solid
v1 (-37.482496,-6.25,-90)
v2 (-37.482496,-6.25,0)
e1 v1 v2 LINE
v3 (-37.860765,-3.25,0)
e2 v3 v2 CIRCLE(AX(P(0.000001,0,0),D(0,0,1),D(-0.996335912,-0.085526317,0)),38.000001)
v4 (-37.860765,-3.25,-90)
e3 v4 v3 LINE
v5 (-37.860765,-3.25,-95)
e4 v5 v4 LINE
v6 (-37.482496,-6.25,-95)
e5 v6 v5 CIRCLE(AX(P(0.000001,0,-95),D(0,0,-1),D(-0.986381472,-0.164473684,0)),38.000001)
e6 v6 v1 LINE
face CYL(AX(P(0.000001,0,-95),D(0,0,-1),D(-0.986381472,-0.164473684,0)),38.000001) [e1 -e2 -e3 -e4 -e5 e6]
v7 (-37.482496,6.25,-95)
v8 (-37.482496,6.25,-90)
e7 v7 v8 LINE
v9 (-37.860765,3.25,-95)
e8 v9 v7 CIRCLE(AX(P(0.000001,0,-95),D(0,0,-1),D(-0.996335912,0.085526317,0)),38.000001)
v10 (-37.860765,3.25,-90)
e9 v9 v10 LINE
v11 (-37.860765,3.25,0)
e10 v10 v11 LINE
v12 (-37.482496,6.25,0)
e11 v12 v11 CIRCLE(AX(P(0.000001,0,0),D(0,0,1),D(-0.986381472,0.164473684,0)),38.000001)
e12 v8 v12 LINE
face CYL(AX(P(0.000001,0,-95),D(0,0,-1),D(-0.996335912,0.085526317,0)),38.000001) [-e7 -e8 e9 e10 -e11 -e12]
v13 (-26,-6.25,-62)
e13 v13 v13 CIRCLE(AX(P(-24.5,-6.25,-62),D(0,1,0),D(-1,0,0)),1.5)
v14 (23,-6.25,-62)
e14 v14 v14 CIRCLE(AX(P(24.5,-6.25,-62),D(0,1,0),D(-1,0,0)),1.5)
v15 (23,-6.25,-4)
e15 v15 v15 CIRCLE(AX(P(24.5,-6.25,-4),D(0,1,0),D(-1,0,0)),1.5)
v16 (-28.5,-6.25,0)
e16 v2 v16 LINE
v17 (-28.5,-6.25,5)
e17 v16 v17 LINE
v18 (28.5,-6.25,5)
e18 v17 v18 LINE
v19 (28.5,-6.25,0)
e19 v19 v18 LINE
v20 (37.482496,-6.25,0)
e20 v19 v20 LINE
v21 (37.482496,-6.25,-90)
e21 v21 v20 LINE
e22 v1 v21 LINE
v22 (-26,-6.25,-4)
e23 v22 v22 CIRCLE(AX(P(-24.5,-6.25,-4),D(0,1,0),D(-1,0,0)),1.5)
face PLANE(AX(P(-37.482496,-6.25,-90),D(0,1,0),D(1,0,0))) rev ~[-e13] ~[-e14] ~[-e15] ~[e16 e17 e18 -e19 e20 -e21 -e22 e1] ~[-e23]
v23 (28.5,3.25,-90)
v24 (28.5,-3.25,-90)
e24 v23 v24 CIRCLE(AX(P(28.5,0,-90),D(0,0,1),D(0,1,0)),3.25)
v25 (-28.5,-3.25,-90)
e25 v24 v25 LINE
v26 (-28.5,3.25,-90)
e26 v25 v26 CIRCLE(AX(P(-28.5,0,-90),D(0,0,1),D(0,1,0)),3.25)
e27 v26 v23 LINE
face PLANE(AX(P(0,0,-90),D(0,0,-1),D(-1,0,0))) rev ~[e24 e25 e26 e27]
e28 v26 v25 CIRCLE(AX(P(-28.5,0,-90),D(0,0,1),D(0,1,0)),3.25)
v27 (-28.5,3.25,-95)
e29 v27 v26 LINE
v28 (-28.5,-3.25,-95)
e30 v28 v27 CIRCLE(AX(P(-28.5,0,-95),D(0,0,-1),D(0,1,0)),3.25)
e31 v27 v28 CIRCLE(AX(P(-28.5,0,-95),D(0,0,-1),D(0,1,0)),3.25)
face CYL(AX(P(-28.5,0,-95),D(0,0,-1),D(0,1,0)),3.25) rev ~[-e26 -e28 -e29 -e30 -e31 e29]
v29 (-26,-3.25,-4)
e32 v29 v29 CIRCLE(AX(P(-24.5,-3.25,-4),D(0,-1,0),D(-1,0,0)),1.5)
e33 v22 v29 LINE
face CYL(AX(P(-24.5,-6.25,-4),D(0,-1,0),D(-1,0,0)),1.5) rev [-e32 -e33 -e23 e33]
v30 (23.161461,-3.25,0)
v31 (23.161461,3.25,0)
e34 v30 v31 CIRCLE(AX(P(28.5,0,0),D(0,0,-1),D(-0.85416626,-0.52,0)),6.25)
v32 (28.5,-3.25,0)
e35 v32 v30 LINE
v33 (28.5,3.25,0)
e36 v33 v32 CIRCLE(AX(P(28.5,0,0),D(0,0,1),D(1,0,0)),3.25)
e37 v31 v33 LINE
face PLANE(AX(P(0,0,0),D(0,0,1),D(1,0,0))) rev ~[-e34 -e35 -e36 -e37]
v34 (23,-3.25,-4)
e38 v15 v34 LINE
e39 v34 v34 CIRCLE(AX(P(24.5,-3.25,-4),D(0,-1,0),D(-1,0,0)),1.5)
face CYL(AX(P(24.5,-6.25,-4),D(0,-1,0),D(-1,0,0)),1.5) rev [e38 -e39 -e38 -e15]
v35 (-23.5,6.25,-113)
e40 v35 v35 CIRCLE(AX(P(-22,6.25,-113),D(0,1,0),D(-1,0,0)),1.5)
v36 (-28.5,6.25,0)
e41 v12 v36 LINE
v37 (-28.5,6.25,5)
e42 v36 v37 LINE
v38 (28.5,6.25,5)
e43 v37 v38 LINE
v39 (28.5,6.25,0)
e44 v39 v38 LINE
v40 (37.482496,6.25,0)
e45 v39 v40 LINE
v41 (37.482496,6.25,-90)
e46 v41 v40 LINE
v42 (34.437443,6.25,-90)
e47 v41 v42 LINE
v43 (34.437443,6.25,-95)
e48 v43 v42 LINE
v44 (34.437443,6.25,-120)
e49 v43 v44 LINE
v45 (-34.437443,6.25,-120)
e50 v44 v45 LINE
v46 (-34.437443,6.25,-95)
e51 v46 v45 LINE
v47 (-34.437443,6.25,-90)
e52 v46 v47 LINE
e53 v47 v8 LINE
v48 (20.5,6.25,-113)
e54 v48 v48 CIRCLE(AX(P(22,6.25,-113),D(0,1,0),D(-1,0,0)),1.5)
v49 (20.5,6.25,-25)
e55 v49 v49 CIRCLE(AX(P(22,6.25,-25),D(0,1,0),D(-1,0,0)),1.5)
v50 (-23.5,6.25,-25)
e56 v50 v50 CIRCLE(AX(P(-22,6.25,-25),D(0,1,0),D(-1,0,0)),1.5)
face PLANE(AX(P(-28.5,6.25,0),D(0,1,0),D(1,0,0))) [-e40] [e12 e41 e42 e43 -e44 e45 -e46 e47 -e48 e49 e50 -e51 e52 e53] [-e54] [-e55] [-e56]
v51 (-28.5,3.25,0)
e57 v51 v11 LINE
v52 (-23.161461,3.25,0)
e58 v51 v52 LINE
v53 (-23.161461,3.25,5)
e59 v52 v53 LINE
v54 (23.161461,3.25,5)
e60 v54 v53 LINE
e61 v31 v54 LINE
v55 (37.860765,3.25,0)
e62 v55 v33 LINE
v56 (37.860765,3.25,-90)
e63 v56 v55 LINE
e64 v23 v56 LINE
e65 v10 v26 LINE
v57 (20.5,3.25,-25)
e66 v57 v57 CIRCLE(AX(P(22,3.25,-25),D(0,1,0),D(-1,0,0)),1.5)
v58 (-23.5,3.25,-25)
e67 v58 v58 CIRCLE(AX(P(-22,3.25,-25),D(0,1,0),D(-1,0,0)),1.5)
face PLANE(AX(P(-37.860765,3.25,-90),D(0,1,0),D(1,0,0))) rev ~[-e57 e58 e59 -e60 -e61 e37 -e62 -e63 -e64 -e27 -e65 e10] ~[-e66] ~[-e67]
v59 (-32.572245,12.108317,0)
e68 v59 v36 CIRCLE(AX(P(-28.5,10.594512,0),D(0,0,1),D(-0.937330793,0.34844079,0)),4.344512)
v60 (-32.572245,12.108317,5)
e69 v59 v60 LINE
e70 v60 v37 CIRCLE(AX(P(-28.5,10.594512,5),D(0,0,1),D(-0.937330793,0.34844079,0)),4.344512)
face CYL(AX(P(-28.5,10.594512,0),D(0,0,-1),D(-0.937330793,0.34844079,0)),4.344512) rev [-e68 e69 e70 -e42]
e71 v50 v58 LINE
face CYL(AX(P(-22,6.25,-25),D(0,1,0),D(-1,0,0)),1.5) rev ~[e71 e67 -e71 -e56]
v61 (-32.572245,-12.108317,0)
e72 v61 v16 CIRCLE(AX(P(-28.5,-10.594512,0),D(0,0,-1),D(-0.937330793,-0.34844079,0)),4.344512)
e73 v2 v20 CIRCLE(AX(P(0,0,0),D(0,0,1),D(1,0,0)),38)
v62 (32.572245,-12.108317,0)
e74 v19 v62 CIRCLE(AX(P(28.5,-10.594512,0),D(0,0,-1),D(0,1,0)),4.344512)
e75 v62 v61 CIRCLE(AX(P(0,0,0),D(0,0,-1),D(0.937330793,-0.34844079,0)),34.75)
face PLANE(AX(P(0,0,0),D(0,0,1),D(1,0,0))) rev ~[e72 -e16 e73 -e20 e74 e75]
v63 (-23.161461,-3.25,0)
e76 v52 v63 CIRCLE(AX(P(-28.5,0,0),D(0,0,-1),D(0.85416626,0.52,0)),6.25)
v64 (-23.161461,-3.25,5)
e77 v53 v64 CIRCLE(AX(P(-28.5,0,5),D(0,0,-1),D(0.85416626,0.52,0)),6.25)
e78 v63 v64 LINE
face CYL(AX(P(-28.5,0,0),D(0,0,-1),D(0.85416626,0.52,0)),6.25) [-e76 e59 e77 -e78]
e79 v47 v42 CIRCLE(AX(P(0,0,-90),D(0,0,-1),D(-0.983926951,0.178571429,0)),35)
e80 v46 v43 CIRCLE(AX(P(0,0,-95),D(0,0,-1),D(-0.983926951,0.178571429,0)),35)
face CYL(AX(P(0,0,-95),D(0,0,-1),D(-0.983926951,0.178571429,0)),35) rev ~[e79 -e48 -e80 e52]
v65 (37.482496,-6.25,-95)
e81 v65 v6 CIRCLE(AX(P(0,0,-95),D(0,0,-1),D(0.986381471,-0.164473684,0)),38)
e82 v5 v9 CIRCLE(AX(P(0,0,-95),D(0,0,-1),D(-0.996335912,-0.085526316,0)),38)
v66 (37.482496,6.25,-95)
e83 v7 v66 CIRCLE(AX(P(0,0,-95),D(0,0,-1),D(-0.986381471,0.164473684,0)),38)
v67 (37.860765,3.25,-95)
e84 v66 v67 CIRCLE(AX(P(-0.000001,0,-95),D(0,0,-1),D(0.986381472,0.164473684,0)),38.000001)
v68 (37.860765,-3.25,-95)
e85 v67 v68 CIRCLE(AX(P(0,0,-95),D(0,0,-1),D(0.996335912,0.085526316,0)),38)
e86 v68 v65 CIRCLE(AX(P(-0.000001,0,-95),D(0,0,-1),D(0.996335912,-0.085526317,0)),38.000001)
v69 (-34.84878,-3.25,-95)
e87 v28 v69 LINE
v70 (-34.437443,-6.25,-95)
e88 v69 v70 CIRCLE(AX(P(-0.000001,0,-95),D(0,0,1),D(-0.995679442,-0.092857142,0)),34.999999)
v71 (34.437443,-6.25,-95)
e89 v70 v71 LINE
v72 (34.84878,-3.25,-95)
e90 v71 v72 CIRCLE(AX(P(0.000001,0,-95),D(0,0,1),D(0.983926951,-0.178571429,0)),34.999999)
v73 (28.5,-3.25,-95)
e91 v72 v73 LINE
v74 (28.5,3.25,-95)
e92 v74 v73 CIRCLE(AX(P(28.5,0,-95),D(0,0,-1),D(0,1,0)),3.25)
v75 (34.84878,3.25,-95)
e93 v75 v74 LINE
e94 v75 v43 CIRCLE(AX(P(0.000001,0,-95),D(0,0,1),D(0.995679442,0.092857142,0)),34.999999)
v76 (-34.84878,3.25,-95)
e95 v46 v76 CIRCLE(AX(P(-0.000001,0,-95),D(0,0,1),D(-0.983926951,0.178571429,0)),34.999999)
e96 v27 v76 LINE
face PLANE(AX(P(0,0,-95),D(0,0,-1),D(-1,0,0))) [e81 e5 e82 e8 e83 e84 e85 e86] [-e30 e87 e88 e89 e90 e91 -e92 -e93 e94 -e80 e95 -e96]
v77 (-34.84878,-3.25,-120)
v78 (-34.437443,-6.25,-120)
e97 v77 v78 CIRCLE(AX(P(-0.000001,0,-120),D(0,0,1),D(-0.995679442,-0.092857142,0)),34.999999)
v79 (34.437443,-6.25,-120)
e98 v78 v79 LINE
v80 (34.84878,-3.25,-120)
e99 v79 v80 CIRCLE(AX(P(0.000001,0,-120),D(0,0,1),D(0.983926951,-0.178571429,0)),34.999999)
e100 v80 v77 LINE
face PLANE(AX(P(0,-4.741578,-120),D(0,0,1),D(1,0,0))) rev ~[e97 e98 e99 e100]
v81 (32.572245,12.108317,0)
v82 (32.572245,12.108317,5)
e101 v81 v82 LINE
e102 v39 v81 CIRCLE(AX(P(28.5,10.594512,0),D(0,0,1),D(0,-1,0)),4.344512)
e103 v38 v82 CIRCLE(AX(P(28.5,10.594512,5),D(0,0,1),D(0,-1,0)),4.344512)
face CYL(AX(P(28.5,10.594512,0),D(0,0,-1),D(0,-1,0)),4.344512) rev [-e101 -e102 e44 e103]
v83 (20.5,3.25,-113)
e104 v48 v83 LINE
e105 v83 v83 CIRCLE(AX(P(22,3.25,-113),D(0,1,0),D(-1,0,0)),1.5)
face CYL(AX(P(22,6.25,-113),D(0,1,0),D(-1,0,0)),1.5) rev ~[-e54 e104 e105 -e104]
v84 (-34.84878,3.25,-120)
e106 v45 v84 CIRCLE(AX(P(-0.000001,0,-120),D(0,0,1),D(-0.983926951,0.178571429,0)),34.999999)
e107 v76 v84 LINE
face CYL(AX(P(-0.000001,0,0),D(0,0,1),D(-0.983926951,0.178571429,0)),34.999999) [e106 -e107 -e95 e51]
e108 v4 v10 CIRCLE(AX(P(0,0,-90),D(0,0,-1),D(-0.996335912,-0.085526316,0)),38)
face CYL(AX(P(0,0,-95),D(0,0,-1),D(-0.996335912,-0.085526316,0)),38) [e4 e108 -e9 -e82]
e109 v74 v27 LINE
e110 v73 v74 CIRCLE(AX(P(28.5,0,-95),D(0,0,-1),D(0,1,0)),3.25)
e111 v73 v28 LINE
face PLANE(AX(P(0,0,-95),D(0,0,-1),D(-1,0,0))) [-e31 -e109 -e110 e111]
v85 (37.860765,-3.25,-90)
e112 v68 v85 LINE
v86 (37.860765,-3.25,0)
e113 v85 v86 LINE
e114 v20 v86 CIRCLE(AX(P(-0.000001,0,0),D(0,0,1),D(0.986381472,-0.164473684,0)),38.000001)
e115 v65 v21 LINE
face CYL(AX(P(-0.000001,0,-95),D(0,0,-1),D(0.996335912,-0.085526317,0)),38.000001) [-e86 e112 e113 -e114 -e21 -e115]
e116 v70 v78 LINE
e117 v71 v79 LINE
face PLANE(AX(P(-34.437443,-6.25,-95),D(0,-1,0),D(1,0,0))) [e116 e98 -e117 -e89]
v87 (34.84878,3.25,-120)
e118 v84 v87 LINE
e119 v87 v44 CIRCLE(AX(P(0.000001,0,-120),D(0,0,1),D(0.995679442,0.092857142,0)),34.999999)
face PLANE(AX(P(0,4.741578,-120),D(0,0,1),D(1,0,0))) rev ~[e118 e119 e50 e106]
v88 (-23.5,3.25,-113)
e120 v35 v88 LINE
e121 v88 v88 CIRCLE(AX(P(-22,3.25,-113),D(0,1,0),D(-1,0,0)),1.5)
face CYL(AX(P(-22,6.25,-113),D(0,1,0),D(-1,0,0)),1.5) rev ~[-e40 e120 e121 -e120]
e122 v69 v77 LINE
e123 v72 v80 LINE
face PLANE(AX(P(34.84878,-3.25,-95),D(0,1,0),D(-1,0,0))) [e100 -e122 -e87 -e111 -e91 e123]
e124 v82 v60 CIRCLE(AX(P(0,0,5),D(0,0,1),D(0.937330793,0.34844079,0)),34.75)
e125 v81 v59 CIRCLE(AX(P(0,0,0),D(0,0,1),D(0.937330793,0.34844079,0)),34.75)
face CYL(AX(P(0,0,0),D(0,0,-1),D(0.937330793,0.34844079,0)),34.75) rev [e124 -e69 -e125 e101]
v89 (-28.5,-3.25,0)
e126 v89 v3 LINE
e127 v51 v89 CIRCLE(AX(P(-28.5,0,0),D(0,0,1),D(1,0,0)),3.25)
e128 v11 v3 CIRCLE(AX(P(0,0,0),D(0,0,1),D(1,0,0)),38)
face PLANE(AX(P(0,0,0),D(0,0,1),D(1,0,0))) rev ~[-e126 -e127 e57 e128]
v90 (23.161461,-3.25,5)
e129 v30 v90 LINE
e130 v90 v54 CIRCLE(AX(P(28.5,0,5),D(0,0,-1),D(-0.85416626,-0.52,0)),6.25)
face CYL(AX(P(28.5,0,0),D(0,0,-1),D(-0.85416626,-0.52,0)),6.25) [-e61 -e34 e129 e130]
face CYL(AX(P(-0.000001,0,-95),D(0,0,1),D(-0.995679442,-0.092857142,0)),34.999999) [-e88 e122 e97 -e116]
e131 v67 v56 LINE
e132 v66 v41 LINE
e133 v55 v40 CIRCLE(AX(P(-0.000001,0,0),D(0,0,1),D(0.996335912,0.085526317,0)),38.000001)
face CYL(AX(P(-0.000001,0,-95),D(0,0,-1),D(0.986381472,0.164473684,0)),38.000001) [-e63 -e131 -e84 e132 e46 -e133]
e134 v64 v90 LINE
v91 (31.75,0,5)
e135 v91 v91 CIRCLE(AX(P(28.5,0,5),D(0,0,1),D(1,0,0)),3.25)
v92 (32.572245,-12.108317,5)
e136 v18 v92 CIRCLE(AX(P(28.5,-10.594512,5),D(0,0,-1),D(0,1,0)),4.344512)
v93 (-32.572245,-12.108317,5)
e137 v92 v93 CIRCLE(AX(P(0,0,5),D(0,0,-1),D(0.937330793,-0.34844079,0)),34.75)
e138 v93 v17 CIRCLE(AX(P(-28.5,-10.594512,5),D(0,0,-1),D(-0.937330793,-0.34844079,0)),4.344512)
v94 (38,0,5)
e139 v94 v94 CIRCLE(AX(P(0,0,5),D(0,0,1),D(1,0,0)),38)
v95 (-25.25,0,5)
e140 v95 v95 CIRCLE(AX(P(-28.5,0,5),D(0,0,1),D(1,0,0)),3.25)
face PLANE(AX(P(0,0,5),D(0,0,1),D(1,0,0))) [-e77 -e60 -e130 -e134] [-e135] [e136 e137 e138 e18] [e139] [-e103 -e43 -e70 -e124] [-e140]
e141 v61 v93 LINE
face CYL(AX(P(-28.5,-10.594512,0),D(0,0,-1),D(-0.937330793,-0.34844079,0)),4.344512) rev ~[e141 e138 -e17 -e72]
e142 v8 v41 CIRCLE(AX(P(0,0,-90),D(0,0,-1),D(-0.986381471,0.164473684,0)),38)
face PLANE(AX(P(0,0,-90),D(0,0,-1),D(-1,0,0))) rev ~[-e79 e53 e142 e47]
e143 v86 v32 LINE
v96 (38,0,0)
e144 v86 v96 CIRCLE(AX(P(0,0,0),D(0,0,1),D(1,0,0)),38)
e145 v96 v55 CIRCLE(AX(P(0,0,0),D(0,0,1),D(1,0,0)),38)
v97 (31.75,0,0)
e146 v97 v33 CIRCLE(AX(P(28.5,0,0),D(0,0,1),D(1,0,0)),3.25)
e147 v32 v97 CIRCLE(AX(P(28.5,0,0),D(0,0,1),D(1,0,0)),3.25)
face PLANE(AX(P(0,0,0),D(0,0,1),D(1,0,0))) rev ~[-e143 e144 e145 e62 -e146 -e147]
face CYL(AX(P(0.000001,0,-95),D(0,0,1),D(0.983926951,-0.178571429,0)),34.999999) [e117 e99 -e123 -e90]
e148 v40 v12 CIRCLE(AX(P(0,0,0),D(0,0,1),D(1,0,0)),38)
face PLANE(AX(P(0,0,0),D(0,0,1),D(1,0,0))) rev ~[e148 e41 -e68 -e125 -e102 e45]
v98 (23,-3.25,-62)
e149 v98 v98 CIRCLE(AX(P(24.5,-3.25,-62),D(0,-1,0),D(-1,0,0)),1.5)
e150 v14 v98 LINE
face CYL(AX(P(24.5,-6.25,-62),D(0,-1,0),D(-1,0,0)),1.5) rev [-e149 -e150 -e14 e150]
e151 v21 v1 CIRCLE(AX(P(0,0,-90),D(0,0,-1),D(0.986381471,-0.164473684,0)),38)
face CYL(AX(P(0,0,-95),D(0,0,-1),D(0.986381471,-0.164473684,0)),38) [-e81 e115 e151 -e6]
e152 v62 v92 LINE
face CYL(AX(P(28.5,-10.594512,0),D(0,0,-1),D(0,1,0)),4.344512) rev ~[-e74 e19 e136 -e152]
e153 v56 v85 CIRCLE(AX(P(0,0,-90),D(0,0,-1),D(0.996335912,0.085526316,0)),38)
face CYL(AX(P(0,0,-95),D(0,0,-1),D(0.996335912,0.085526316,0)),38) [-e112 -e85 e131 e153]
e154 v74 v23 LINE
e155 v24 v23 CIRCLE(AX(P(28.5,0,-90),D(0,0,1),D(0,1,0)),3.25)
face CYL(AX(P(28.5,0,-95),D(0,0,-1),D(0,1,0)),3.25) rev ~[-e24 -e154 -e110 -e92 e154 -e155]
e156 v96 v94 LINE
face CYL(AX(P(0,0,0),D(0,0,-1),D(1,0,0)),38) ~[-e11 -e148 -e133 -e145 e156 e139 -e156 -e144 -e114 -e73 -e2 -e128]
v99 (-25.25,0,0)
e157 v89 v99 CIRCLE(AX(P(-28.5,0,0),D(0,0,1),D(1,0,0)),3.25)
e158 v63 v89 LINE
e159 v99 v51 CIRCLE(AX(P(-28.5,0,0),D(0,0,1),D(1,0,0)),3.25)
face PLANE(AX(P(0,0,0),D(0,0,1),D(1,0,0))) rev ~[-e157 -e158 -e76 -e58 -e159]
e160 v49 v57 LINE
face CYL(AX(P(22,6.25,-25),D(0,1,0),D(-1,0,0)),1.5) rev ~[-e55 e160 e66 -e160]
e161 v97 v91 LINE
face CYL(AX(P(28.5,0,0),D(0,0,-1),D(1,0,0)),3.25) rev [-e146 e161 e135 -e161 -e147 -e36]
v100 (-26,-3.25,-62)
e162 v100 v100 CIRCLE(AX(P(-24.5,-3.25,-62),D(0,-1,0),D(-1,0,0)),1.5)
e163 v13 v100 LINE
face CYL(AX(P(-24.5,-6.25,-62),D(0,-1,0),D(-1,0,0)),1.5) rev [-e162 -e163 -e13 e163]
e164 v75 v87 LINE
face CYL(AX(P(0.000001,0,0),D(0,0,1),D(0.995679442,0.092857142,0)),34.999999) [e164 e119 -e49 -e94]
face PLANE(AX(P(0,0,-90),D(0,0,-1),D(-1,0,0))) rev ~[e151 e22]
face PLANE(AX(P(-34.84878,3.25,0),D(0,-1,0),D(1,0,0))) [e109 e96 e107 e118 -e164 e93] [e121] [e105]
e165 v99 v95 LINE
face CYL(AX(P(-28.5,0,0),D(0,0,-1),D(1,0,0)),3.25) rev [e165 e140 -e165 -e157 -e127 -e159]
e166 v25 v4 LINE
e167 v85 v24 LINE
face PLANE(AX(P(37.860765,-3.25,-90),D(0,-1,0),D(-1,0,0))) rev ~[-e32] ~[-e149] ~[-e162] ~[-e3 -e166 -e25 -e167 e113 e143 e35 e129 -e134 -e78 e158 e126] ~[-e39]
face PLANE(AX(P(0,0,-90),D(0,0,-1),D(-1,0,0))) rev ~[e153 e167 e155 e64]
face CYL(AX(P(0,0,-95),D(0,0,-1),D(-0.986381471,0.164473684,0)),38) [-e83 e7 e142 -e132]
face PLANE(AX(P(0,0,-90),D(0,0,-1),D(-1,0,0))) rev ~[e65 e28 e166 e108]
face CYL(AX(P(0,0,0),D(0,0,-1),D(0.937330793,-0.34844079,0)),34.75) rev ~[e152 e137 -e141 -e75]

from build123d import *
from build123d.topology import SkipClean

# Parameters (mm, degrees)
SKETCH1_R           = 38
SKETCH1_R_2         = 3.25
BOSS_EXTRUDE1_DEPTH = 5
BOSS_EXTRUDE2_START = 90
BOSS_EXTRUDE2_DEPTH = 90
BOSS_EXTRUDE3_START = 5
BOSS_EXTRUDE3_DEPTH = 5
CUT_EXTRUDE1_REACH  = 113.477
SKETCH4_R           = 1.5
BOSS_EXTRUDE5_START = -95
BOSS_EXTRUDE5_DEPTH = 120
CUT_EXTRUDE2_REACH  = 135.424
SKETCH7_R           = 1.5
CUT_EXTRUDE3_REACH  = 115.525
BOSS_EXTRUDE6_DEPTH = 25


with BuildPart() as part:
    # Sketch1 → Boss-Extrude1 (new body)
    with BuildSketch(Plane.XY):
        Circle(SKETCH1_R)
        with Locations((-28.5, 0)):
            Circle(SKETCH1_R_2, mode=Mode.SUBTRACT)
        with Locations((28.5, 0)):
            Circle(SKETCH1_R_2, mode=Mode.SUBTRACT)
        with BuildLine():
            Line((-28.5, -6.25), (28.5, -6.25))
            ThreePointArc((28.5, -6.25), (32.067319136, -8.114790357), (32.572245062, -12.108317457))
            ThreePointArc((32.572245062, -12.108317457), (0, -34.75), (-32.572245062, -12.108317457))
            ThreePointArc((-32.572245062, -12.108317457), (-32.067319136, -8.114790357), (-28.5, -6.25))
        make_face(mode=Mode.SUBTRACT)
        with BuildLine():
            Line((-28.5, 6.25), (28.5, 6.25))
            ThreePointArc((28.5, 6.25), (32.067319136, 8.114790357), (32.572245062, 12.108317457))
            ThreePointArc((32.572245062, 12.108317457), (0, 34.75), (-32.572245062, 12.108317457))
            ThreePointArc((-32.572245062, 12.108317457), (-32.067319136, 8.114790357), (-28.5, 6.25))
        make_face(mode=Mode.SUBTRACT)
        with BuildLine():
            Line((23.161460874, 3.25), (-23.161460874, 3.25))
            ThreePointArc((-23.161460874, 3.25), (-22.25, 0), (-23.161460874, -3.25))
            Line((-23.161460874, -3.25), (23.161460874, -3.25))
            ThreePointArc((23.161460874, -3.25), (22.25, 0), (23.161460874, 3.25))
        make_face(mode=Mode.SUBTRACT)
    extrude(amount=BOSS_EXTRUDE1_DEPTH)

    # Sketch2 → Boss-Extrude2 (add)
    with BuildSketch(Plane(origin=(0, 0, 0), x_dir=(-1, 0, 0), z_dir=(0, 0, -1)).offset(BOSS_EXTRUDE2_START)):
        with BuildLine():
            Line((-37.860764652, -3.25), (37.860764652, -3.25))
            ThreePointArc((37.860764652, -3.25), (37.701481777, -4.753763962), (37.482495915, -6.25))
            Line((37.482495915, -6.25), (-37.482495915, -6.25))
            ThreePointArc((-37.482495915, -6.25), (-37.701481777, -4.753763962), (-37.860764652, -3.25))
        make_face()
        with BuildLine():
            Line((-37.482495915, 6.25), (37.482495915, 6.25))
            ThreePointArc((37.482495915, 6.25), (37.701481777, 4.753763962), (37.860764652, 3.25))
            Line((37.860764652, 3.25), (-37.860764652, 3.25))
            ThreePointArc((-37.860764652, 3.25), (-37.701481777, 4.753763962), (-37.482495915, 6.25))
        make_face()
    extrude(amount=-BOSS_EXTRUDE2_DEPTH)

    # Sketch3 → Boss-Extrude3 (add)
    with SkipClean():  # the faces are left unmerged after this step: merging them gives an invalid solid
        with BuildSketch(Plane(origin=(0, 0, -90), x_dir=(-1, 0, 0), z_dir=(0, 0, -1)).offset(BOSS_EXTRUDE3_START)):
            with BuildLine():
                ThreePointArc((37.860764652, 3.25), (37.701481777, 4.753763962), (37.482495915, 6.25))
                ThreePointArc((37.482495915, 6.25), (0, 38), (-37.482495915, 6.25))
                ThreePointArc((-37.482495915, 6.25), (-37.701481777, 4.753763962), (-37.860764652, 3.25))
                ThreePointArc((-37.860764652, 3.25), (-38, 0), (-37.860764652, -3.25))
                ThreePointArc((-37.860764652, -3.25), (-37.701481777, -4.753763962), (-37.482495915, -6.25))
                ThreePointArc((-37.482495915, -6.25), (0, -38), (37.482495915, -6.25))
                ThreePointArc((37.482495915, -6.25), (37.701481777, -4.753763962), (37.860764652, -3.25))
                ThreePointArc((37.860764652, -3.25), (38, 0), (37.860764652, 3.25))
            make_face()
            with BuildLine():
                ThreePointArc((-28.5, 3.25), (-31.75, 0), (-28.5, -3.25))
                ThreePointArc((-28.5, -3.25), (-25.25, 0), (-28.5, 3.25))
            make_face(mode=Mode.SUBTRACT)
            with BuildLine():
                ThreePointArc((28.5, 3.25), (25.25, 0), (28.5, -3.25))
                ThreePointArc((28.5, -3.25), (31.75, 0), (28.5, 3.25))
            make_face(mode=Mode.SUBTRACT)
        extrude(amount=-BOSS_EXTRUDE3_DEPTH)

    # Sketch4 → Cut-Extrude1 (cut, up to next)
    with BuildSketch(Plane(origin=(0, -6.25, 0), x_dir=(1, 0, 0), z_dir=(0, 1, 0)), mode=Mode.PRIVATE) as cut_extrude1_sk1:
        with Locations(Location((-24.5, 62, 0), (0, 0, 180))):
            Circle(SKETCH4_R)
    cut_extrude1_tool1 = extrude(cut_extrude1_sk1.sketch, amount=CUT_EXTRUDE1_REACH, mode=Mode.PRIVATE) & part.part
    # Sketch4 → Cut-Extrude1 (cut, up to next)
    with BuildSketch(Plane(origin=(0, -6.25, 0), x_dir=(1, 0, 0), z_dir=(0, 1, 0)), mode=Mode.PRIVATE) as cut_extrude1_sk2:
        with Locations(Location((24.5, 62, 0), (0, 0, 180))):
            Circle(SKETCH4_R)
    cut_extrude1_tool2 = extrude(cut_extrude1_sk2.sketch, amount=CUT_EXTRUDE1_REACH, mode=Mode.PRIVATE) & part.part
    # Sketch4 → Cut-Extrude1 (cut, up to next)
    with BuildSketch(Plane(origin=(0, -6.25, 0), x_dir=(1, 0, 0), z_dir=(0, 1, 0)), mode=Mode.PRIVATE) as cut_extrude1_sk3:
        with Locations(Location((24.5, 4, 0), (0, 0, 180))):
            Circle(SKETCH4_R)
    cut_extrude1_tool3 = extrude(cut_extrude1_sk3.sketch, amount=CUT_EXTRUDE1_REACH, mode=Mode.PRIVATE) & part.part
    # Sketch4 → Cut-Extrude1 (cut, up to next)
    with BuildSketch(Plane(origin=(0, -6.25, 0), x_dir=(1, 0, 0), z_dir=(0, 1, 0)), mode=Mode.PRIVATE) as cut_extrude1_sk4:
        with Locations(Location((-24.5, 4, 0), (0, 0, 180))):
            Circle(SKETCH4_R)
    cut_extrude1_tool4 = extrude(cut_extrude1_sk4.sketch, amount=CUT_EXTRUDE1_REACH, mode=Mode.PRIVATE) & part.part
    add(cut_extrude1_tool1.solids().sort_by_distance((-24.5, -6.25, -62))[0], mode=Mode.SUBTRACT)
    add(cut_extrude1_tool2.solids().sort_by_distance((24.5, -6.25, -62))[0], mode=Mode.SUBTRACT)
    add(cut_extrude1_tool3.solids().sort_by_distance((24.5, -6.25, -4))[0], mode=Mode.SUBTRACT)
    add(cut_extrude1_tool4.solids().sort_by_distance((-24.5, -6.25, -4))[0], mode=Mode.SUBTRACT)

    # Sketch6 → Boss-Extrude5 (add)
    with SkipClean():  # the faces are left unmerged after this step: merging them gives an invalid solid
        with BuildSketch(Plane(origin=(0, 0, -95), x_dir=(-1, 0, 0), z_dir=(0, 0, -1)).offset(BOSS_EXTRUDE5_START)):
            with BuildLine():
                Line((-34.437443285, 6.25), (34.437443285, 6.25))
                ThreePointArc((34.437443285, 6.25), (34.675570658, 4.754450501), (34.848780466, 3.25))
                Line((34.848780466, 3.25), (-34.848780466, 3.25))
                ThreePointArc((-34.848780466, 3.25), (-34.675570658, 4.754450501), (-34.437443285, 6.25))
            make_face()
        extrude(amount=BOSS_EXTRUDE5_DEPTH)

    # Sketch7 → Cut-Extrude2 (cut, up to next)
    with BuildSketch(Plane(origin=(0, 6.25, 0), x_dir=(1, 0, 0), z_dir=(0, 1, 0)), mode=Mode.PRIVATE) as cut_extrude2_sk1:
        with Locations(Location((-22, 113, 0), (0, 0, 180))):
            Circle(SKETCH7_R)
    cut_extrude2_tool1 = extrude(cut_extrude2_sk1.sketch, amount=-CUT_EXTRUDE2_REACH, mode=Mode.PRIVATE) & part.part
    # Sketch7 → Cut-Extrude2 (cut, up to next)
    with BuildSketch(Plane(origin=(0, 6.25, 0), x_dir=(1, 0, 0), z_dir=(0, 1, 0)), mode=Mode.PRIVATE) as cut_extrude2_sk2:
        with Locations(Location((22, 113, 0), (0, 0, 180))):
            Circle(SKETCH7_R)
    cut_extrude2_tool2 = extrude(cut_extrude2_sk2.sketch, amount=-CUT_EXTRUDE2_REACH, mode=Mode.PRIVATE) & part.part
    # Sketch7 → Cut-Extrude2 (cut, up to next)
    with BuildSketch(Plane(origin=(0, 6.25, 0), x_dir=(1, 0, 0), z_dir=(0, 1, 0)), mode=Mode.PRIVATE) as cut_extrude2_sk3:
        with Locations(Location((22, 25, 0), (0, 0, 180))):
            Circle(SKETCH7_R)
    cut_extrude2_tool3 = extrude(cut_extrude2_sk3.sketch, amount=-CUT_EXTRUDE2_REACH, mode=Mode.PRIVATE) & part.part
    # Sketch7 → Cut-Extrude2 (cut, up to next)
    with BuildSketch(Plane(origin=(0, 6.25, 0), x_dir=(1, 0, 0), z_dir=(0, 1, 0)), mode=Mode.PRIVATE) as cut_extrude2_sk4:
        with Locations(Location((-22, 25, 0), (0, 0, 180))):
            Circle(SKETCH7_R)
    cut_extrude2_tool4 = extrude(cut_extrude2_sk4.sketch, amount=-CUT_EXTRUDE2_REACH, mode=Mode.PRIVATE) & part.part
    add(cut_extrude2_tool1.solids().sort_by_distance((-22, 6.25, -113))[0], mode=Mode.SUBTRACT)
    add(cut_extrude2_tool2.solids().sort_by_distance((22, 6.25, -113))[0], mode=Mode.SUBTRACT)
    add(cut_extrude2_tool3.solids().sort_by_distance((22, 6.25, -25))[0], mode=Mode.SUBTRACT)
    add(cut_extrude2_tool4.solids().sort_by_distance((-22, 6.25, -25))[0], mode=Mode.SUBTRACT)

    # Sketch8 → Cut-Extrude3 (cut, up to next)
    with BuildSketch(Plane(origin=(0, 0, -95), x_dir=(-1, 0, 0), z_dir=(0, 0, -1)), mode=Mode.PRIVATE) as cut_extrude3_sk1:
        with BuildLine():
            Line((-34.437443285, 6.25), (34.437443285, 6.25))
            ThreePointArc((34.437443285, 6.25), (0, 35), (-34.437443285, 6.25))
        make_face()
    cut_extrude3_tool1 = extrude(cut_extrude3_sk1.sketch, amount=-CUT_EXTRUDE3_REACH, mode=Mode.PRIVATE) & part.part
    add(cut_extrude3_tool1.solids().sort_by_distance((0, 18.284736, -95))[0], mode=Mode.SUBTRACT)

    # Sketch9 → Boss-Extrude6 (add)
    with SkipClean():  # the faces are left unmerged after this step: merging them gives an invalid solid
        with BuildSketch(Plane(origin=(0, 0, -95), x_dir=(-1, 0, 0), z_dir=(0, 0, -1))):
            with BuildLine():
                Line((-34.848780466, -3.25), (34.848780466, -3.25))
                ThreePointArc((34.848780466, -3.25), (34.675570658, -4.754450501), (34.437443285, -6.25))
                Line((34.437443285, -6.25), (-34.437443285, -6.25))
                ThreePointArc((-34.437443285, -6.25), (-34.675570658, -4.754450501), (-34.848780466, -3.25))
            make_face()
        extrude(amount=BOSS_EXTRUDE6_DEPTH)


solid = part.part
